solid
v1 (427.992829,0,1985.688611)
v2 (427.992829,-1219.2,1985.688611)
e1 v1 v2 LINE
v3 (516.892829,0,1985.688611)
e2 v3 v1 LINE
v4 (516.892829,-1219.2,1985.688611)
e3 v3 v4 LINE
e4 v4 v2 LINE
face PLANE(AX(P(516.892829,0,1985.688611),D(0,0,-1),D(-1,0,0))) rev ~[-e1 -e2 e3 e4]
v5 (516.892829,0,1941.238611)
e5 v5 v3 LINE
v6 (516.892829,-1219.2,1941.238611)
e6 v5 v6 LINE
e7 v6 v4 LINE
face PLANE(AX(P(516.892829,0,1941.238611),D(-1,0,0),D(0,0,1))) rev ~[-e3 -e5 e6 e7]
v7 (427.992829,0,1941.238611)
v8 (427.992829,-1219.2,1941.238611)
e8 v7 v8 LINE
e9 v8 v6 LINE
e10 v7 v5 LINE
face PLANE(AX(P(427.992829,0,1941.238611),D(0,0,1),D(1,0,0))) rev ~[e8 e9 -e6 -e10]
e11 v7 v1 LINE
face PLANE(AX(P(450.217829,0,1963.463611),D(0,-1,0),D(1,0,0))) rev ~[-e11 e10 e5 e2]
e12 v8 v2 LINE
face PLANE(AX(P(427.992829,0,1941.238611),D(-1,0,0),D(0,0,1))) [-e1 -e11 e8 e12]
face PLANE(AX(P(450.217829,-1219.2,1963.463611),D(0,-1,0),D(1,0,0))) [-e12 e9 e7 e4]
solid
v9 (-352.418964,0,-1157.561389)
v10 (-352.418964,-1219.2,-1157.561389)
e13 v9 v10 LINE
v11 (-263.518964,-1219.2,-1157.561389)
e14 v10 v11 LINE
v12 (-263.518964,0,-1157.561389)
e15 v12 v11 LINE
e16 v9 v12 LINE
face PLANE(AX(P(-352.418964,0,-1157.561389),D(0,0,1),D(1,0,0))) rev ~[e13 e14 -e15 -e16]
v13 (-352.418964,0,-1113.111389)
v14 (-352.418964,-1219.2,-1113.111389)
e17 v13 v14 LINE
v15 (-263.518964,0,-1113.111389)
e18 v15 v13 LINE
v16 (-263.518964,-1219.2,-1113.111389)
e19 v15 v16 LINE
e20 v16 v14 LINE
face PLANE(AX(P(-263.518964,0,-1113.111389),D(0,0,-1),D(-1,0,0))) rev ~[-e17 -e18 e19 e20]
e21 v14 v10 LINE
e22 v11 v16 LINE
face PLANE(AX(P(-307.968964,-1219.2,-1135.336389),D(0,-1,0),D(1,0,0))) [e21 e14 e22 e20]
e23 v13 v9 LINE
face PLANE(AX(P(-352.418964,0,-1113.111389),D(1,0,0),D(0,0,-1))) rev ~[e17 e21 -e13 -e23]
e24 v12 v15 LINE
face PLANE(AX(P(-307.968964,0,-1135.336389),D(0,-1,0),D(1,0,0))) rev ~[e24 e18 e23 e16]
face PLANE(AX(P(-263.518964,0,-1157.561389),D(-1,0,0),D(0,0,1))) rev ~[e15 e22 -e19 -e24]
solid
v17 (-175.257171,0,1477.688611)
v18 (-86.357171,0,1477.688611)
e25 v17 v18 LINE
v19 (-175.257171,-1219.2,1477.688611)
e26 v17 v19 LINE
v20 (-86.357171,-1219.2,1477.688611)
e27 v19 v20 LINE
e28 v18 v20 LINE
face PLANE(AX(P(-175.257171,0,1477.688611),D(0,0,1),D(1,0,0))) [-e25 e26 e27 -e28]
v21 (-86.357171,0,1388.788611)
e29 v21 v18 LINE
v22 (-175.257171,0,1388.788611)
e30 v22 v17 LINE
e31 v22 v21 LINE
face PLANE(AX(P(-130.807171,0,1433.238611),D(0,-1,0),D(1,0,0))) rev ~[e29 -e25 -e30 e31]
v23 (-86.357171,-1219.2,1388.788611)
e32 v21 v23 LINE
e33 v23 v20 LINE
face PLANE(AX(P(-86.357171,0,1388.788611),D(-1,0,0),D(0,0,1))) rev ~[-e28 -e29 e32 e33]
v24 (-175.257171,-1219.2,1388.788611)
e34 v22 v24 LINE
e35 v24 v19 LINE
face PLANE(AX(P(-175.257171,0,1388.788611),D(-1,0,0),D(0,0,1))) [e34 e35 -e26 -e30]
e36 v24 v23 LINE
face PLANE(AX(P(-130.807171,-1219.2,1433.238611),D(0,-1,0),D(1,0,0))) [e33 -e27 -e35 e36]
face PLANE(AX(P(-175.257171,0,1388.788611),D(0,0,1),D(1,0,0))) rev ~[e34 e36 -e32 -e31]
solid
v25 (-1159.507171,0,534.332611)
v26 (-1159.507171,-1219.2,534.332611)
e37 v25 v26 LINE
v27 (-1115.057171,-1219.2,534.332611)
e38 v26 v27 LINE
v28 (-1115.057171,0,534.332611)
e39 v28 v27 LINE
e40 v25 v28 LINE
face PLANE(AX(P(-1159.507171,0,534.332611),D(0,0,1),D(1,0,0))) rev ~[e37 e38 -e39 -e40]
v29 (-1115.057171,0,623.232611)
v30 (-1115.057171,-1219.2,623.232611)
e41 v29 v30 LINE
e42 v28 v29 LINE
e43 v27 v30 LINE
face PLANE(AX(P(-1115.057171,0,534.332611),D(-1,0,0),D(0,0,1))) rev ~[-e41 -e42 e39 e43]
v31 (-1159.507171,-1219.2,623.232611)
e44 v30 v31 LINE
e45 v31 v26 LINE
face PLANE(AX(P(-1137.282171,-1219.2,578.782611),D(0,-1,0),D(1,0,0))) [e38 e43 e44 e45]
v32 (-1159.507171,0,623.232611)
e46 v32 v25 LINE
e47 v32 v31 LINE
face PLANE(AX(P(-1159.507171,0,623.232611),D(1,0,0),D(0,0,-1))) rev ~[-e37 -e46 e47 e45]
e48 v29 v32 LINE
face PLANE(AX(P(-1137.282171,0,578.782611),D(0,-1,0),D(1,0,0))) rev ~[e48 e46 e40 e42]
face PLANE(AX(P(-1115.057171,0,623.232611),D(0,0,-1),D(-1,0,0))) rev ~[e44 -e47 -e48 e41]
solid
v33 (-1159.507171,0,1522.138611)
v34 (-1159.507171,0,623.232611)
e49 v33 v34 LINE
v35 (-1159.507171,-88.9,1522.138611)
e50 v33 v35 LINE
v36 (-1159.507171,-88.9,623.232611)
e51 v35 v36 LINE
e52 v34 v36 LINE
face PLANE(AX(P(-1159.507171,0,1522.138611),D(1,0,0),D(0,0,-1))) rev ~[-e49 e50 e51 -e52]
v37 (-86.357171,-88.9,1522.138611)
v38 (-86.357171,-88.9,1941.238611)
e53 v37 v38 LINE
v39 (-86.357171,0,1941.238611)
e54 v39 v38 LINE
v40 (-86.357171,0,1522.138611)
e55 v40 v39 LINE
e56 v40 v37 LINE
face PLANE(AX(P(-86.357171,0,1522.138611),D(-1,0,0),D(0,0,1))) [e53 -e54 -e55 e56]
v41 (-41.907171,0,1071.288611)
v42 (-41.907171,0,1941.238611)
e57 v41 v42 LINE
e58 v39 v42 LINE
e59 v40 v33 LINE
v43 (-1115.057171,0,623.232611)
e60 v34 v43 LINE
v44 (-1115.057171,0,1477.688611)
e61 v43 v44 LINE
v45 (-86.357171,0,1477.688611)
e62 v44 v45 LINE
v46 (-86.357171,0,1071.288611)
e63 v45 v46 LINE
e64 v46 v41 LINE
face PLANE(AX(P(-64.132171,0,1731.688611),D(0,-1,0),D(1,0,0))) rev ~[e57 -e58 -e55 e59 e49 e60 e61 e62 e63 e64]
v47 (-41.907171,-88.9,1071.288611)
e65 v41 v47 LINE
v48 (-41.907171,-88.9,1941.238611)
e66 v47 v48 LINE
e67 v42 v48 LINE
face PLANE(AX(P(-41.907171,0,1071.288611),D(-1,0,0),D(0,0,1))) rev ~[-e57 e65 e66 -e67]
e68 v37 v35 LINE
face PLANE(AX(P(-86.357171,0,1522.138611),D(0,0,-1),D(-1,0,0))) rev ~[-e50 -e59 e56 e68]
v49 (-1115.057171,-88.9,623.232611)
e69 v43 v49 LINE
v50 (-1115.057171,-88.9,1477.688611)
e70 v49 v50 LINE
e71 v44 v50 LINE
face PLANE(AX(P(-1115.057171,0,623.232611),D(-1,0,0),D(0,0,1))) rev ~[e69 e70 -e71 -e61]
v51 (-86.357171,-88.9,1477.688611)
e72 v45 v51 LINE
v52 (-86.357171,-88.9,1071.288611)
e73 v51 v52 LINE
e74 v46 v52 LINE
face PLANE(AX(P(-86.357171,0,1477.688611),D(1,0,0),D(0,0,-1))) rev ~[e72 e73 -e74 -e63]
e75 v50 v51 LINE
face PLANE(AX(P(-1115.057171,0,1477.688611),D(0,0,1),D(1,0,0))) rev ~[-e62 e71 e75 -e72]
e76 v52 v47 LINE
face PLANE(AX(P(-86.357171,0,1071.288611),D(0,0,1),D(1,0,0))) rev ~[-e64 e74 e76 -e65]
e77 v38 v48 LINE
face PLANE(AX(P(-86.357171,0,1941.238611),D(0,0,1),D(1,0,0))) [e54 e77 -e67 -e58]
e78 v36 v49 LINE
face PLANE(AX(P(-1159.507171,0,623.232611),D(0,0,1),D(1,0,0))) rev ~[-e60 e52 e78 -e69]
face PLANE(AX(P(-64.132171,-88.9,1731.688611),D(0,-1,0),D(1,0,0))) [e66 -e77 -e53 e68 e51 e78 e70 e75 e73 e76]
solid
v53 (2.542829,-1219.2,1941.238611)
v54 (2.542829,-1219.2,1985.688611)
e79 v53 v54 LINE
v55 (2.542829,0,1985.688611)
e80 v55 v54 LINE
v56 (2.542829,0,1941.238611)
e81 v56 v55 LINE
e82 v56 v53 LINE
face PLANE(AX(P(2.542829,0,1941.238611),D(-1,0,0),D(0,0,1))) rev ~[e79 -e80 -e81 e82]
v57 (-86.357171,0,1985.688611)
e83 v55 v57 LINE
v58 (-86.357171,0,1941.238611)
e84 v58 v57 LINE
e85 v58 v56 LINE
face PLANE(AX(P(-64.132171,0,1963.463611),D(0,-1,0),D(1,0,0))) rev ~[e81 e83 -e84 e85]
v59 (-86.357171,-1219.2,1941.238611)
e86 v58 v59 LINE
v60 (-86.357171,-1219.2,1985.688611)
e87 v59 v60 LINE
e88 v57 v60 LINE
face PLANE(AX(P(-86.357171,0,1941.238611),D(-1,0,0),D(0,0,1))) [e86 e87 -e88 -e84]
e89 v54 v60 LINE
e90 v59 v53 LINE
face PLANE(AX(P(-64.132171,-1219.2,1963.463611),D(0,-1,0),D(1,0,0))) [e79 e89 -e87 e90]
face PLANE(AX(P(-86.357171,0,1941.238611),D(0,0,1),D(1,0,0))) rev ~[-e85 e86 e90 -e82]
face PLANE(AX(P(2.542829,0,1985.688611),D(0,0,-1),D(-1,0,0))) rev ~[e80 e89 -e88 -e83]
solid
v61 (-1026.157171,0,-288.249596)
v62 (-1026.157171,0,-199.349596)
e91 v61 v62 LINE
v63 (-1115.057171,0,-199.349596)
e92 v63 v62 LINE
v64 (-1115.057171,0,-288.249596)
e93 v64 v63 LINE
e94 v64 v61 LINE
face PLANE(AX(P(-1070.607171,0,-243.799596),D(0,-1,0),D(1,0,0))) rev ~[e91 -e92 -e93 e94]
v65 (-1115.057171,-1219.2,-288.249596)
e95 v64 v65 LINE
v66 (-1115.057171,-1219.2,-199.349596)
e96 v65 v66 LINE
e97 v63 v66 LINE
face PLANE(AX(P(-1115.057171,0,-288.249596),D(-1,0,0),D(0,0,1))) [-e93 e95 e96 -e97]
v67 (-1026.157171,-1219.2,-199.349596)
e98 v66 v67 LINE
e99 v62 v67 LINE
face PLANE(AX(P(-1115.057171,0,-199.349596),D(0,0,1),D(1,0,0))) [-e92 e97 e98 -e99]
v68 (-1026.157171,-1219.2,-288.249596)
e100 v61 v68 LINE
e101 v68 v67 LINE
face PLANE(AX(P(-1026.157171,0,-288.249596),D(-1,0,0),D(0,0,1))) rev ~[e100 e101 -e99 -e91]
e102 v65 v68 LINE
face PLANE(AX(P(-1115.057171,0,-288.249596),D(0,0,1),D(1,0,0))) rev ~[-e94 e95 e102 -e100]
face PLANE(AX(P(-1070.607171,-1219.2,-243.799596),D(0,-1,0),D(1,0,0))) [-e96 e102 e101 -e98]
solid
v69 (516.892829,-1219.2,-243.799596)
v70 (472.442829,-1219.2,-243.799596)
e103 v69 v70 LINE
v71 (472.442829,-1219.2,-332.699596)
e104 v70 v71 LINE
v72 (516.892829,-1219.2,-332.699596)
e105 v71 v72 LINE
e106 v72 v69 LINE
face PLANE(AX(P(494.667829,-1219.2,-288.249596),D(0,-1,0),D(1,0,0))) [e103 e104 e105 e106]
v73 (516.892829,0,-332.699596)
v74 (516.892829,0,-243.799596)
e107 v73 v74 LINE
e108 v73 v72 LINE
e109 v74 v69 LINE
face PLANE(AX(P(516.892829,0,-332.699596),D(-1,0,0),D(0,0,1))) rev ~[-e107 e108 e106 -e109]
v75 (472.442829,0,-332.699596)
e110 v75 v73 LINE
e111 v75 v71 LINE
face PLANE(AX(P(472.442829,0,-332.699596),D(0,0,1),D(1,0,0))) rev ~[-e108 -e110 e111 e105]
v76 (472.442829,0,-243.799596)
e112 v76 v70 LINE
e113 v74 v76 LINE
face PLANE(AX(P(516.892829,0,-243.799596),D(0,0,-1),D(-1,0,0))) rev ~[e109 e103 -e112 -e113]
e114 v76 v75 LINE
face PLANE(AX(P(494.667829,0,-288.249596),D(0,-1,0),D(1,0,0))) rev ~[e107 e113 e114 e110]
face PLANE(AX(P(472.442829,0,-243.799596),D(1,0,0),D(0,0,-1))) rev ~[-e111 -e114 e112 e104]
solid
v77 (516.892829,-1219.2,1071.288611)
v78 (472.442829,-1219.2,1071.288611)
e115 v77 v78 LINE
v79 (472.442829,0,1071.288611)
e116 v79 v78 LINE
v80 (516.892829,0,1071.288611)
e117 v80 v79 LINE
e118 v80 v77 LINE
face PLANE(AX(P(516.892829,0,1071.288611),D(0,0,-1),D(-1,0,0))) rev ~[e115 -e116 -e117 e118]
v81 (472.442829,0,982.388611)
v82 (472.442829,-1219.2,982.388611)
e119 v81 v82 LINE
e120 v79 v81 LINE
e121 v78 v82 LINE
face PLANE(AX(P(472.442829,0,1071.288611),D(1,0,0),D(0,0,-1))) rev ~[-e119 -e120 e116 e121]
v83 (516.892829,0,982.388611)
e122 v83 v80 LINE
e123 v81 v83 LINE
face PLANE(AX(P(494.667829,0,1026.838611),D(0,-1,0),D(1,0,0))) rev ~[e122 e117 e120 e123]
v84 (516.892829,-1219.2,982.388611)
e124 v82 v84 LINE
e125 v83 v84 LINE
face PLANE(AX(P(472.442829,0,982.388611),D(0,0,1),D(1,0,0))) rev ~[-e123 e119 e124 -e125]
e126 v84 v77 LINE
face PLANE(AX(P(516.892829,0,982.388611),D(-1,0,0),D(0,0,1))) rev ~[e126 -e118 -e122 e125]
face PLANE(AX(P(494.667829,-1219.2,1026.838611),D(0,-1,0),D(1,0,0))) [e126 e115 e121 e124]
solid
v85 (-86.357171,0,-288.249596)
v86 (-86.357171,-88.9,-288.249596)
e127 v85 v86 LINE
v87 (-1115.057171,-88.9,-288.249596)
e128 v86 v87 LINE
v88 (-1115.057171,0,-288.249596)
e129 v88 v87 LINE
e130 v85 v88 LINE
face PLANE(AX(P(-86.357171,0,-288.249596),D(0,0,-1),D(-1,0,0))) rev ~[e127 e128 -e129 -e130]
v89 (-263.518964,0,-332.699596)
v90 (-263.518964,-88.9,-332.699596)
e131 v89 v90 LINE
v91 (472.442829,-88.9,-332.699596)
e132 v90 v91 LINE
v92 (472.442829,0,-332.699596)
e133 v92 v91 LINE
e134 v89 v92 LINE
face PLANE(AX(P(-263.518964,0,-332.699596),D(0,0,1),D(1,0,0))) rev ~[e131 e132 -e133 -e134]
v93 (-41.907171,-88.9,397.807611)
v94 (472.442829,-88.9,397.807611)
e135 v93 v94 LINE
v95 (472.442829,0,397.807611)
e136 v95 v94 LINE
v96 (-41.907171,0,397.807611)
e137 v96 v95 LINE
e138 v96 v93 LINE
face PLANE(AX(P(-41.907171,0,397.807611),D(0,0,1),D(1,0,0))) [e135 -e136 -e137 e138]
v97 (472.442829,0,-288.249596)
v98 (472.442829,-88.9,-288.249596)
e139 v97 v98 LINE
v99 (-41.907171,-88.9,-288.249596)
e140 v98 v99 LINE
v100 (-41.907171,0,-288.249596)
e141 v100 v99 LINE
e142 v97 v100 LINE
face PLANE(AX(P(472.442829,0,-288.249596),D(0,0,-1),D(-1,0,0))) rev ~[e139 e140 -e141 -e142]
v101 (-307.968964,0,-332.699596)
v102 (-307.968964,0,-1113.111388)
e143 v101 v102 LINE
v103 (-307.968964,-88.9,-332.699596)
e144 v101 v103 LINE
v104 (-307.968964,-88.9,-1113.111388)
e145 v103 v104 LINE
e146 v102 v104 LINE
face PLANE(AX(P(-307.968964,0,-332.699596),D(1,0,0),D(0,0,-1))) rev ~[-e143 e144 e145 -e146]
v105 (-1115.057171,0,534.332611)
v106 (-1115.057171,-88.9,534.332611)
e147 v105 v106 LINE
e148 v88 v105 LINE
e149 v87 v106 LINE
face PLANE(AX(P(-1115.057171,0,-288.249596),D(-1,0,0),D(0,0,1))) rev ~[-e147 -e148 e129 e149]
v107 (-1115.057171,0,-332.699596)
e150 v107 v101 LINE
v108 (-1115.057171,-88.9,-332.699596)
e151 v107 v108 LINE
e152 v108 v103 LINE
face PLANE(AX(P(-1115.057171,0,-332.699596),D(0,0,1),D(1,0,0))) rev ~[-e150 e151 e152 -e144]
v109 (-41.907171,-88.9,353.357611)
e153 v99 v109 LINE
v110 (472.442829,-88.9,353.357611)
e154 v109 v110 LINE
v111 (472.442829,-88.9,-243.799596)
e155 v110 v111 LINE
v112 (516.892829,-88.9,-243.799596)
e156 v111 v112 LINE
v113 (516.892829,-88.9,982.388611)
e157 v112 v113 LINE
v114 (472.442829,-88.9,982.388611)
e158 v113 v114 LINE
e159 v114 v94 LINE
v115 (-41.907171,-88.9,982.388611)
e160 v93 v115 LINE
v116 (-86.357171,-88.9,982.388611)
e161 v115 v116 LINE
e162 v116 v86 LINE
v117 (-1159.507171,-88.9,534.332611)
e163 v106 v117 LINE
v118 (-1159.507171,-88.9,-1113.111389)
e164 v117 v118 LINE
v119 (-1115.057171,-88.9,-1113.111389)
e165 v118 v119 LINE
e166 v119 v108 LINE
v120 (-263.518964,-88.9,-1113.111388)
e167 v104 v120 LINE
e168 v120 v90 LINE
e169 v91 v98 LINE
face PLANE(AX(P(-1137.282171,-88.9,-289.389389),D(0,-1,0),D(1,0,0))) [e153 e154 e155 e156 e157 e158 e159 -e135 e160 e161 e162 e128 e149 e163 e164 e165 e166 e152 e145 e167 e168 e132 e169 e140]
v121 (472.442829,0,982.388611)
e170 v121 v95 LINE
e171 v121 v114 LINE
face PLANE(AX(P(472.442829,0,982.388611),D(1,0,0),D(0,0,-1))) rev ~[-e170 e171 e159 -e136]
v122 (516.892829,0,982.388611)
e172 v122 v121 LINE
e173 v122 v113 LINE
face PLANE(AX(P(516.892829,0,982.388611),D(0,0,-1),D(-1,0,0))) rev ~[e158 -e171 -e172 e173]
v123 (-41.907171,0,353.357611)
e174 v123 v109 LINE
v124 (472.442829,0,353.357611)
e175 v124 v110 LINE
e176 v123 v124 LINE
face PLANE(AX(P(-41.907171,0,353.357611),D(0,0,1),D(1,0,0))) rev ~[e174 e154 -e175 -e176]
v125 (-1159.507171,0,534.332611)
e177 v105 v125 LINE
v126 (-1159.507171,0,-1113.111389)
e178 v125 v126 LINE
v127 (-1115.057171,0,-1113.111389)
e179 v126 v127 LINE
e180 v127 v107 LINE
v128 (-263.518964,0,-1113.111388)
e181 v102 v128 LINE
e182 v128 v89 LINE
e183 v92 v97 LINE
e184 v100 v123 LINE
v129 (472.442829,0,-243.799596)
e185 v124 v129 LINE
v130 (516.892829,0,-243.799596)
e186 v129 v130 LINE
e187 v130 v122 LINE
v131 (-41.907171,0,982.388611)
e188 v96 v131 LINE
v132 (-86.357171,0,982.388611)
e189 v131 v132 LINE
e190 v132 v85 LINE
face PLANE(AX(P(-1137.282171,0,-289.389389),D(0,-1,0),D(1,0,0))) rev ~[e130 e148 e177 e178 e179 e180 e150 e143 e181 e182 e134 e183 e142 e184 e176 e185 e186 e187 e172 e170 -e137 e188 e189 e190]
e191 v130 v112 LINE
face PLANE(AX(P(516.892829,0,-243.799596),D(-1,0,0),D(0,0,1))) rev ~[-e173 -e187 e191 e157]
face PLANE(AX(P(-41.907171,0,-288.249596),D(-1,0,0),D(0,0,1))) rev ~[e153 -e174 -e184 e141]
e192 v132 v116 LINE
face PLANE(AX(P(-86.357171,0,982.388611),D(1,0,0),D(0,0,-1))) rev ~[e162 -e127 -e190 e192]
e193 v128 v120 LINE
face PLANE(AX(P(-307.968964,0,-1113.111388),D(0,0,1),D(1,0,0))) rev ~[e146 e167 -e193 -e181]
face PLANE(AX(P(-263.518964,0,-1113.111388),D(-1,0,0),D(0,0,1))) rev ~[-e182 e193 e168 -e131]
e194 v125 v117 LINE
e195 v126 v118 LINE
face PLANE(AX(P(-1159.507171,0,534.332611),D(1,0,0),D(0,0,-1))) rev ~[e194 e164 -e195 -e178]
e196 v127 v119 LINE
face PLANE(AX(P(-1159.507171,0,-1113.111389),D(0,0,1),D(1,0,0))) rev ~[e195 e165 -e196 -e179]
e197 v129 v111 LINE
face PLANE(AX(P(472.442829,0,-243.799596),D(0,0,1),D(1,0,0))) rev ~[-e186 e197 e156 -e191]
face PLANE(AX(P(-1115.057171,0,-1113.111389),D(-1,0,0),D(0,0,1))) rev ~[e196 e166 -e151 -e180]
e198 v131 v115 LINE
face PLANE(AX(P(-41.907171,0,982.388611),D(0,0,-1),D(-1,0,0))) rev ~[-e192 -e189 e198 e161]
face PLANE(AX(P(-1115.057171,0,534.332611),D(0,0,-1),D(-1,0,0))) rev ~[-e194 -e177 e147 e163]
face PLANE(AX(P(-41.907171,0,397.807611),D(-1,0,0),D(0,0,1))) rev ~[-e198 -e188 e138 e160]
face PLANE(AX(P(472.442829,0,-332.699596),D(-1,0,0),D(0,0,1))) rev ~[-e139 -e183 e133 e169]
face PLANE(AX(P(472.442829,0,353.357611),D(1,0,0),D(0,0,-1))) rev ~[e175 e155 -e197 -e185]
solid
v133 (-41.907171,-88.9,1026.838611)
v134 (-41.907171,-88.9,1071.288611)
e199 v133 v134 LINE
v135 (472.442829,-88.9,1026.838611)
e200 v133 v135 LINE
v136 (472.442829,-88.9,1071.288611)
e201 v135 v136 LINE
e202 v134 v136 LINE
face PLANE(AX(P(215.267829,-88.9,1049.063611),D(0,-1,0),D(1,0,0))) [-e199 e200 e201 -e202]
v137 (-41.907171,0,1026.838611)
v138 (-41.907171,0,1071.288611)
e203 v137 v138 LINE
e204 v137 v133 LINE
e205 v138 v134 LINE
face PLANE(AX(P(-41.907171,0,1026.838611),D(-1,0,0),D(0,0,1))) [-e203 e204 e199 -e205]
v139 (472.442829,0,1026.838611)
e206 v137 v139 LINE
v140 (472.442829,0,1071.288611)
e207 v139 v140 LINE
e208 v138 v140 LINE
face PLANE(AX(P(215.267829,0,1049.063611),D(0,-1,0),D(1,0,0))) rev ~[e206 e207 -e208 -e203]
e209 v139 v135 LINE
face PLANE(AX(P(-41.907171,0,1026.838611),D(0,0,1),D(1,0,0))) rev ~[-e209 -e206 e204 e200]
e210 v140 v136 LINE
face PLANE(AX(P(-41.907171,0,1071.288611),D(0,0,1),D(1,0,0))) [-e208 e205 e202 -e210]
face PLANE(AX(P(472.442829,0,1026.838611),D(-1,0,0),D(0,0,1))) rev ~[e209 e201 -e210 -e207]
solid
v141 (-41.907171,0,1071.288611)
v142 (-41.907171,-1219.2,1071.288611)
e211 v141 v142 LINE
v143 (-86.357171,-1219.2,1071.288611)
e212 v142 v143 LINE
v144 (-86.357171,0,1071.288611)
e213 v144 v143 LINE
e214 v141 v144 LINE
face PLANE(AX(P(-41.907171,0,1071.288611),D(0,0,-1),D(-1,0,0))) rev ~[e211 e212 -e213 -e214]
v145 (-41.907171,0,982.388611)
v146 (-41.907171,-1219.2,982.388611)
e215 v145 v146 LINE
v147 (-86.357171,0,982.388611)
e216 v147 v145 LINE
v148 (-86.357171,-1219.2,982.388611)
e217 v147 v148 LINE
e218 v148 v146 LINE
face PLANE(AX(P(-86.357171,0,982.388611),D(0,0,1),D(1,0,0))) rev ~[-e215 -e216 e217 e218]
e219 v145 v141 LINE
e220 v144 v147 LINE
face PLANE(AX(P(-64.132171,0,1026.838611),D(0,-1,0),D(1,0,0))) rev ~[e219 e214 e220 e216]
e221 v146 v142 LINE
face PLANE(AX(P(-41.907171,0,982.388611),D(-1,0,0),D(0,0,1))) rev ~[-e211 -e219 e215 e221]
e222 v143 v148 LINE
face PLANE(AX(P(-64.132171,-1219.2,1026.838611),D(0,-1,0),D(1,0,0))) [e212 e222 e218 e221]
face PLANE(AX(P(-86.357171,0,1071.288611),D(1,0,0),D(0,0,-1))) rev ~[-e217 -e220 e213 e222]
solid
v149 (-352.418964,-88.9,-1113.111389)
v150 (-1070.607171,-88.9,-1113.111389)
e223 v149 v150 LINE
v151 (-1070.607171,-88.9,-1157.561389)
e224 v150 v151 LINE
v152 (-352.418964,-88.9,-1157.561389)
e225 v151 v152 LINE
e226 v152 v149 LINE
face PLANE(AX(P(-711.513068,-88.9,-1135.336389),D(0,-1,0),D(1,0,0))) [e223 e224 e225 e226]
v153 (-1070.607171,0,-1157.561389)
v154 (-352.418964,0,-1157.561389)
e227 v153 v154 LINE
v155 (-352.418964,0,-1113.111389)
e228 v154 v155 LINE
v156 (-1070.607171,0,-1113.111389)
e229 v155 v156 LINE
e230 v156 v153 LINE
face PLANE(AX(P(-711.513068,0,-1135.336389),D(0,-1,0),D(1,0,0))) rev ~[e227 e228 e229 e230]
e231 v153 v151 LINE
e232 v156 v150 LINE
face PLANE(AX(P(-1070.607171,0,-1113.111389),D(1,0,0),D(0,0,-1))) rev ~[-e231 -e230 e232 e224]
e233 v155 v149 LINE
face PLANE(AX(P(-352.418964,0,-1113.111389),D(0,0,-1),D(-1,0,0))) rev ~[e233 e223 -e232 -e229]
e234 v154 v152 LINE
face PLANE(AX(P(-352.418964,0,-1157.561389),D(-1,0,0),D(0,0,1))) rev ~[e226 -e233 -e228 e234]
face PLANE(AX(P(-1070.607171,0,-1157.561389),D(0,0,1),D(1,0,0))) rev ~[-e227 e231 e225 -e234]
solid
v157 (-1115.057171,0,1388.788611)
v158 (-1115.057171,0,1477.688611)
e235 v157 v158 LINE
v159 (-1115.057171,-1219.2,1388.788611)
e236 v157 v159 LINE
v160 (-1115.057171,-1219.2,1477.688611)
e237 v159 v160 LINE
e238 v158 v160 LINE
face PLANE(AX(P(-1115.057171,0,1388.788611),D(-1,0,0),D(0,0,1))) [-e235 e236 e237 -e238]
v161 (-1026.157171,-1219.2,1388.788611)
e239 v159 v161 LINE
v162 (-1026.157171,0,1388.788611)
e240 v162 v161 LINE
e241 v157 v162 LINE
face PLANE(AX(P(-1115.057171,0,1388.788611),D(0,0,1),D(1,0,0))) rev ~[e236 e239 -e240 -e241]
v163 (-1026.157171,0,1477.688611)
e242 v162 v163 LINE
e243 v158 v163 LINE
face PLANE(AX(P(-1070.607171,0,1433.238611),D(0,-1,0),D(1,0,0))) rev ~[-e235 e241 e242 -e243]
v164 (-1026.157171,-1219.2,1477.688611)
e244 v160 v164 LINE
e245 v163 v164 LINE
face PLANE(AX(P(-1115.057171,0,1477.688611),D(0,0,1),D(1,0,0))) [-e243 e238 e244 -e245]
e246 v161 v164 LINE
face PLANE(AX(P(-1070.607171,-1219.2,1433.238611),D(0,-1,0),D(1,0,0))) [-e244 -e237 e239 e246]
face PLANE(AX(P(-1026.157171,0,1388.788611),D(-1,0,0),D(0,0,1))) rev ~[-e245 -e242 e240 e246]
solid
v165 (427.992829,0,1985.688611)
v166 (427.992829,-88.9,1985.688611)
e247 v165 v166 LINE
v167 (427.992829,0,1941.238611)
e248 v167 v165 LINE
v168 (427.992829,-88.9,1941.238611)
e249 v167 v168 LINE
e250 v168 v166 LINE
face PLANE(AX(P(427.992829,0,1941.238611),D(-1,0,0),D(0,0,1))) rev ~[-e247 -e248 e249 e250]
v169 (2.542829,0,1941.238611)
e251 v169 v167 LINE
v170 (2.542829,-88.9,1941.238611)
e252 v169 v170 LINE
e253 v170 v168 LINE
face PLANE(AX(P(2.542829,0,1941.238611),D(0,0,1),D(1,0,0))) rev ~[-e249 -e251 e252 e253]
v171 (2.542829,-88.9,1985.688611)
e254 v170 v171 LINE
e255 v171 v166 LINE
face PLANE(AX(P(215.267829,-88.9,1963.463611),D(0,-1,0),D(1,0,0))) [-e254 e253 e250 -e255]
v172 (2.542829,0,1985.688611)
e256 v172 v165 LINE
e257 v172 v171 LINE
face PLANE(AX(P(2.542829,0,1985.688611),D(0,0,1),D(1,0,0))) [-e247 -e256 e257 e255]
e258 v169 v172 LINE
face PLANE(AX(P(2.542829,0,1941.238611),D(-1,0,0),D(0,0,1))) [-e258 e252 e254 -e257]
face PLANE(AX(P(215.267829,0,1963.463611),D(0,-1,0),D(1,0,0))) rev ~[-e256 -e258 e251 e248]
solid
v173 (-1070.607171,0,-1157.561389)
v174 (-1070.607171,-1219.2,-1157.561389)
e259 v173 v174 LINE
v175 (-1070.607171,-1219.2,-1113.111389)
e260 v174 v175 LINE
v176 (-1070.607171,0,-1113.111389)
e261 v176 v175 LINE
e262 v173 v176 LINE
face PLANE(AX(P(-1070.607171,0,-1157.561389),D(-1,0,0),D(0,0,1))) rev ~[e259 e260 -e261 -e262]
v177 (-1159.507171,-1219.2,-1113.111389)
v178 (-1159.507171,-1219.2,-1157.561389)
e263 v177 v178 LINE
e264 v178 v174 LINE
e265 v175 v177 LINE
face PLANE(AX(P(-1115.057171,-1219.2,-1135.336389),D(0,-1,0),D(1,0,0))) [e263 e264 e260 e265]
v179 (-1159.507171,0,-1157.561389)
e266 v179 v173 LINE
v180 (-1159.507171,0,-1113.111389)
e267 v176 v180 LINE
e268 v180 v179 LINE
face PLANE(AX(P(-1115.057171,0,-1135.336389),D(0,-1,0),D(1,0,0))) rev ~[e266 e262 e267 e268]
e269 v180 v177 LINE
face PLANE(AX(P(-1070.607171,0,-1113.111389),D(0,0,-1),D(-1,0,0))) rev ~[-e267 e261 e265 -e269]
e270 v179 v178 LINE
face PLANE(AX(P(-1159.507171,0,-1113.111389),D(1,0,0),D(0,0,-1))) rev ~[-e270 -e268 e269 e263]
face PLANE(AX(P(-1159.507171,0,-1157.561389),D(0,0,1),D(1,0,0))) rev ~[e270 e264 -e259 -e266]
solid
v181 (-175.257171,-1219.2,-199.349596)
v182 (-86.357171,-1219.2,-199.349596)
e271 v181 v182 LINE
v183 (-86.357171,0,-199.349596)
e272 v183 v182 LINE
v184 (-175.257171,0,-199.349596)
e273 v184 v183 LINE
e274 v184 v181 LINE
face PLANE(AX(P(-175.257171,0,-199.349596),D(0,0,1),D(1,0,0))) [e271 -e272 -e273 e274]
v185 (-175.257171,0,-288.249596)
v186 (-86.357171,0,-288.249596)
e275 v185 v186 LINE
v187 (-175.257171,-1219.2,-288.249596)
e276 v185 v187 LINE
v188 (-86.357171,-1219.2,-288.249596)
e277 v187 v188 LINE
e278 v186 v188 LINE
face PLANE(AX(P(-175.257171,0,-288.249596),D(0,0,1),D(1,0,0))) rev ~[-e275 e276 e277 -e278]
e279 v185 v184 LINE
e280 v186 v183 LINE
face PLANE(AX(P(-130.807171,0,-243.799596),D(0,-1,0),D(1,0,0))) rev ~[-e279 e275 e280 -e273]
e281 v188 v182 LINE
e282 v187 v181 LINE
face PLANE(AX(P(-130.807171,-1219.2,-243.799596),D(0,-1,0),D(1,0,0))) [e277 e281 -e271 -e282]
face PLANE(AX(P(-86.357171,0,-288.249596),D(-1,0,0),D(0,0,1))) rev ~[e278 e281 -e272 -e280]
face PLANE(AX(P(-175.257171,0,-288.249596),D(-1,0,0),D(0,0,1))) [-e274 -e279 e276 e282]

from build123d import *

# Parameters (mm, degrees)
F0_W     = 44.45
F0_H     = 419.1
F0_W_2   = 425.45
F0_H_2   = 44.45
F0_H_3   = 780.411793
F0_W_3   = 514.35
F1_DEPTH = 88.9
F0_W_4   = 88.9
F0_H_4   = 88.9
F2_DEPTH = 1219.2


with BuildPart() as f1:
    # F0 (on Front) → F1 (new body)
    with BuildSketch(Plane.XZ):
        with Locations((-64.132171, 1731.688611)):
            Rectangle(F0_W, F0_H)
        with Locations((215.267829, 1963.463611)):
            Rectangle(F0_W_2, F0_H_2)
        Polygon((-1159.507171, 1522.138611), (-1159.507171, 1477.688611), (-1115.057171, 1477.688611), (-1026.157171, 1477.688611), (-622.932171, 1477.688611), (-578.482171, 1477.688611), (-175.257171, 1477.688611), (-86.357171, 1477.688611), (-86.357171, 1522.138611), align=None)
        Polygon((-1159.507171, 1477.688611), (-1159.507171, 623.232611), (-1115.057171, 623.232611), (-1115.057171, 1388.788611), (-1115.057171, 1477.688611), align=None)
        Polygon((-1159.507171, 534.332611), (-1159.507171, -1113.111389), (-1115.057171, -1113.111389), (-1115.057171, -332.699596), (-1115.057171, -288.249596), (-1115.057171, -199.349596), (-1115.057171, 534.332611), align=None)
        Polygon((-1070.607171, -1113.111389), (-1070.607171, -1157.561389), (-352.418964, -1157.561389), (-352.418964, -1113.111389), (-689.607171, -1113.111389), (-734.057171, -1113.111389), align=None)
        with Locations((-285.743964, -722.905492)):
            Rectangle(F0_W, F0_H_3)
        Polygon((-263.518964, -332.699596), (472.442829, -332.699596), (472.442829, -288.249596), (-41.907171, -288.249596), (-86.357171, -288.249596), (-175.257171, -288.249596), (-307.968964, -288.249596), (-307.968964, -332.699596), align=None)
        Polygon((-1115.057171, -288.249596), (-1115.057171, -332.699596), (-734.057171, -332.699596), (-689.607171, -332.699596), (-307.968964, -332.699596), (-307.968964, -288.249596), (-578.482171, -288.249596), (-622.932171, -288.249596), (-1026.157171, -288.249596), align=None)
        Polygon((-86.357171, -288.249596), (-41.907171, -288.249596), (-41.907171, 353.357611), (-41.907171, 397.807611), (-41.907171, 982.388611), (-86.357171, 982.388611), (-86.357171, 623.232611), (-86.357171, 578.782611), (-86.357171, -199.349596), align=None)
        Polygon((472.442829, -243.799596), (516.892829, -243.799596), (516.892829, 982.388611), (472.442829, 982.388611), (472.442829, 397.807611), (472.442829, 353.357611), align=None)
        with Locations((215.267829, 1049.063611)):
            Rectangle(F0_W_3, F0_H_2)
        with Locations((215.267829, 375.582611)):
            Rectangle(F0_W_3, F0_H_2)
        Polygon((-41.907171, 1522.138611), (-86.357171, 1522.138611), (-86.357171, 1477.688611), (-86.357171, 1388.788611), (-86.357171, 1071.288611), (-41.907171, 1071.288611), (-41.907171, 1477.688611), align=None)
    extrude(amount=F1_DEPTH)


with BuildPart() as f2:
    # F0 (on Front) → F2 (new body)
    with BuildSketch(Plane.XZ):
        with Locations((-1070.607171, 1433.238611)):
            Rectangle(F0_W_4, F0_H_4)
        with Locations((-130.807171, 1433.238611)):
            Rectangle(F0_W_4, F0_H_4)
        Polygon((-41.907171, 1071.288611), (-86.357171, 1071.288611), (-86.357171, 982.388611), (-41.907171, 982.388611), (-41.907171, 1026.838611), align=None)
        Polygon((-1159.507171, 623.232611), (-1159.507171, 534.332611), (-1115.057171, 534.332611), (-1115.057171, 578.782611), (-1115.057171, 623.232611), align=None)
        with Locations((-64.132171, 1963.463611)):
            Rectangle(F0_W, F0_H_2)
        with Locations((-19.682171, 1963.463611)):
            Rectangle(F0_W, F0_H_2)
        with Locations((450.217829, 1963.463611)):
            Rectangle(F0_W, F0_H_2)
        with Locations((494.667829, 1963.463611)):
            Rectangle(F0_W, F0_H_2)
        Polygon((472.442829, 982.388611), (516.892829, 982.388611), (516.892829, 1071.288611), (472.442829, 1071.288611), (472.442829, 1026.838611), align=None)
        with Locations((-130.807171, -243.799596)):
            Rectangle(F0_W_4, F0_H_4)
        with Locations((-1070.607171, -243.799596)):
            Rectangle(F0_W_4, F0_H_4)
        Polygon((472.442829, -288.249596), (472.442829, -332.699596), (516.892829, -332.699596), (516.892829, -243.799596), (472.442829, -243.799596), align=None)
        Polygon((-352.418964, -1113.111389), (-352.418964, -1157.561389), (-263.518964, -1157.561389), (-263.518964, -1113.111389), (-307.968964, -1113.111389), align=None)
        Polygon((-1159.507171, -1113.111389), (-1159.507171, -1157.561389), (-1070.607171, -1157.561389), (-1070.607171, -1113.111389), (-1115.057171, -1113.111389), align=None)
    extrude(amount=F2_DEPTH)


solid = Compound([f1.part, f2.part])
